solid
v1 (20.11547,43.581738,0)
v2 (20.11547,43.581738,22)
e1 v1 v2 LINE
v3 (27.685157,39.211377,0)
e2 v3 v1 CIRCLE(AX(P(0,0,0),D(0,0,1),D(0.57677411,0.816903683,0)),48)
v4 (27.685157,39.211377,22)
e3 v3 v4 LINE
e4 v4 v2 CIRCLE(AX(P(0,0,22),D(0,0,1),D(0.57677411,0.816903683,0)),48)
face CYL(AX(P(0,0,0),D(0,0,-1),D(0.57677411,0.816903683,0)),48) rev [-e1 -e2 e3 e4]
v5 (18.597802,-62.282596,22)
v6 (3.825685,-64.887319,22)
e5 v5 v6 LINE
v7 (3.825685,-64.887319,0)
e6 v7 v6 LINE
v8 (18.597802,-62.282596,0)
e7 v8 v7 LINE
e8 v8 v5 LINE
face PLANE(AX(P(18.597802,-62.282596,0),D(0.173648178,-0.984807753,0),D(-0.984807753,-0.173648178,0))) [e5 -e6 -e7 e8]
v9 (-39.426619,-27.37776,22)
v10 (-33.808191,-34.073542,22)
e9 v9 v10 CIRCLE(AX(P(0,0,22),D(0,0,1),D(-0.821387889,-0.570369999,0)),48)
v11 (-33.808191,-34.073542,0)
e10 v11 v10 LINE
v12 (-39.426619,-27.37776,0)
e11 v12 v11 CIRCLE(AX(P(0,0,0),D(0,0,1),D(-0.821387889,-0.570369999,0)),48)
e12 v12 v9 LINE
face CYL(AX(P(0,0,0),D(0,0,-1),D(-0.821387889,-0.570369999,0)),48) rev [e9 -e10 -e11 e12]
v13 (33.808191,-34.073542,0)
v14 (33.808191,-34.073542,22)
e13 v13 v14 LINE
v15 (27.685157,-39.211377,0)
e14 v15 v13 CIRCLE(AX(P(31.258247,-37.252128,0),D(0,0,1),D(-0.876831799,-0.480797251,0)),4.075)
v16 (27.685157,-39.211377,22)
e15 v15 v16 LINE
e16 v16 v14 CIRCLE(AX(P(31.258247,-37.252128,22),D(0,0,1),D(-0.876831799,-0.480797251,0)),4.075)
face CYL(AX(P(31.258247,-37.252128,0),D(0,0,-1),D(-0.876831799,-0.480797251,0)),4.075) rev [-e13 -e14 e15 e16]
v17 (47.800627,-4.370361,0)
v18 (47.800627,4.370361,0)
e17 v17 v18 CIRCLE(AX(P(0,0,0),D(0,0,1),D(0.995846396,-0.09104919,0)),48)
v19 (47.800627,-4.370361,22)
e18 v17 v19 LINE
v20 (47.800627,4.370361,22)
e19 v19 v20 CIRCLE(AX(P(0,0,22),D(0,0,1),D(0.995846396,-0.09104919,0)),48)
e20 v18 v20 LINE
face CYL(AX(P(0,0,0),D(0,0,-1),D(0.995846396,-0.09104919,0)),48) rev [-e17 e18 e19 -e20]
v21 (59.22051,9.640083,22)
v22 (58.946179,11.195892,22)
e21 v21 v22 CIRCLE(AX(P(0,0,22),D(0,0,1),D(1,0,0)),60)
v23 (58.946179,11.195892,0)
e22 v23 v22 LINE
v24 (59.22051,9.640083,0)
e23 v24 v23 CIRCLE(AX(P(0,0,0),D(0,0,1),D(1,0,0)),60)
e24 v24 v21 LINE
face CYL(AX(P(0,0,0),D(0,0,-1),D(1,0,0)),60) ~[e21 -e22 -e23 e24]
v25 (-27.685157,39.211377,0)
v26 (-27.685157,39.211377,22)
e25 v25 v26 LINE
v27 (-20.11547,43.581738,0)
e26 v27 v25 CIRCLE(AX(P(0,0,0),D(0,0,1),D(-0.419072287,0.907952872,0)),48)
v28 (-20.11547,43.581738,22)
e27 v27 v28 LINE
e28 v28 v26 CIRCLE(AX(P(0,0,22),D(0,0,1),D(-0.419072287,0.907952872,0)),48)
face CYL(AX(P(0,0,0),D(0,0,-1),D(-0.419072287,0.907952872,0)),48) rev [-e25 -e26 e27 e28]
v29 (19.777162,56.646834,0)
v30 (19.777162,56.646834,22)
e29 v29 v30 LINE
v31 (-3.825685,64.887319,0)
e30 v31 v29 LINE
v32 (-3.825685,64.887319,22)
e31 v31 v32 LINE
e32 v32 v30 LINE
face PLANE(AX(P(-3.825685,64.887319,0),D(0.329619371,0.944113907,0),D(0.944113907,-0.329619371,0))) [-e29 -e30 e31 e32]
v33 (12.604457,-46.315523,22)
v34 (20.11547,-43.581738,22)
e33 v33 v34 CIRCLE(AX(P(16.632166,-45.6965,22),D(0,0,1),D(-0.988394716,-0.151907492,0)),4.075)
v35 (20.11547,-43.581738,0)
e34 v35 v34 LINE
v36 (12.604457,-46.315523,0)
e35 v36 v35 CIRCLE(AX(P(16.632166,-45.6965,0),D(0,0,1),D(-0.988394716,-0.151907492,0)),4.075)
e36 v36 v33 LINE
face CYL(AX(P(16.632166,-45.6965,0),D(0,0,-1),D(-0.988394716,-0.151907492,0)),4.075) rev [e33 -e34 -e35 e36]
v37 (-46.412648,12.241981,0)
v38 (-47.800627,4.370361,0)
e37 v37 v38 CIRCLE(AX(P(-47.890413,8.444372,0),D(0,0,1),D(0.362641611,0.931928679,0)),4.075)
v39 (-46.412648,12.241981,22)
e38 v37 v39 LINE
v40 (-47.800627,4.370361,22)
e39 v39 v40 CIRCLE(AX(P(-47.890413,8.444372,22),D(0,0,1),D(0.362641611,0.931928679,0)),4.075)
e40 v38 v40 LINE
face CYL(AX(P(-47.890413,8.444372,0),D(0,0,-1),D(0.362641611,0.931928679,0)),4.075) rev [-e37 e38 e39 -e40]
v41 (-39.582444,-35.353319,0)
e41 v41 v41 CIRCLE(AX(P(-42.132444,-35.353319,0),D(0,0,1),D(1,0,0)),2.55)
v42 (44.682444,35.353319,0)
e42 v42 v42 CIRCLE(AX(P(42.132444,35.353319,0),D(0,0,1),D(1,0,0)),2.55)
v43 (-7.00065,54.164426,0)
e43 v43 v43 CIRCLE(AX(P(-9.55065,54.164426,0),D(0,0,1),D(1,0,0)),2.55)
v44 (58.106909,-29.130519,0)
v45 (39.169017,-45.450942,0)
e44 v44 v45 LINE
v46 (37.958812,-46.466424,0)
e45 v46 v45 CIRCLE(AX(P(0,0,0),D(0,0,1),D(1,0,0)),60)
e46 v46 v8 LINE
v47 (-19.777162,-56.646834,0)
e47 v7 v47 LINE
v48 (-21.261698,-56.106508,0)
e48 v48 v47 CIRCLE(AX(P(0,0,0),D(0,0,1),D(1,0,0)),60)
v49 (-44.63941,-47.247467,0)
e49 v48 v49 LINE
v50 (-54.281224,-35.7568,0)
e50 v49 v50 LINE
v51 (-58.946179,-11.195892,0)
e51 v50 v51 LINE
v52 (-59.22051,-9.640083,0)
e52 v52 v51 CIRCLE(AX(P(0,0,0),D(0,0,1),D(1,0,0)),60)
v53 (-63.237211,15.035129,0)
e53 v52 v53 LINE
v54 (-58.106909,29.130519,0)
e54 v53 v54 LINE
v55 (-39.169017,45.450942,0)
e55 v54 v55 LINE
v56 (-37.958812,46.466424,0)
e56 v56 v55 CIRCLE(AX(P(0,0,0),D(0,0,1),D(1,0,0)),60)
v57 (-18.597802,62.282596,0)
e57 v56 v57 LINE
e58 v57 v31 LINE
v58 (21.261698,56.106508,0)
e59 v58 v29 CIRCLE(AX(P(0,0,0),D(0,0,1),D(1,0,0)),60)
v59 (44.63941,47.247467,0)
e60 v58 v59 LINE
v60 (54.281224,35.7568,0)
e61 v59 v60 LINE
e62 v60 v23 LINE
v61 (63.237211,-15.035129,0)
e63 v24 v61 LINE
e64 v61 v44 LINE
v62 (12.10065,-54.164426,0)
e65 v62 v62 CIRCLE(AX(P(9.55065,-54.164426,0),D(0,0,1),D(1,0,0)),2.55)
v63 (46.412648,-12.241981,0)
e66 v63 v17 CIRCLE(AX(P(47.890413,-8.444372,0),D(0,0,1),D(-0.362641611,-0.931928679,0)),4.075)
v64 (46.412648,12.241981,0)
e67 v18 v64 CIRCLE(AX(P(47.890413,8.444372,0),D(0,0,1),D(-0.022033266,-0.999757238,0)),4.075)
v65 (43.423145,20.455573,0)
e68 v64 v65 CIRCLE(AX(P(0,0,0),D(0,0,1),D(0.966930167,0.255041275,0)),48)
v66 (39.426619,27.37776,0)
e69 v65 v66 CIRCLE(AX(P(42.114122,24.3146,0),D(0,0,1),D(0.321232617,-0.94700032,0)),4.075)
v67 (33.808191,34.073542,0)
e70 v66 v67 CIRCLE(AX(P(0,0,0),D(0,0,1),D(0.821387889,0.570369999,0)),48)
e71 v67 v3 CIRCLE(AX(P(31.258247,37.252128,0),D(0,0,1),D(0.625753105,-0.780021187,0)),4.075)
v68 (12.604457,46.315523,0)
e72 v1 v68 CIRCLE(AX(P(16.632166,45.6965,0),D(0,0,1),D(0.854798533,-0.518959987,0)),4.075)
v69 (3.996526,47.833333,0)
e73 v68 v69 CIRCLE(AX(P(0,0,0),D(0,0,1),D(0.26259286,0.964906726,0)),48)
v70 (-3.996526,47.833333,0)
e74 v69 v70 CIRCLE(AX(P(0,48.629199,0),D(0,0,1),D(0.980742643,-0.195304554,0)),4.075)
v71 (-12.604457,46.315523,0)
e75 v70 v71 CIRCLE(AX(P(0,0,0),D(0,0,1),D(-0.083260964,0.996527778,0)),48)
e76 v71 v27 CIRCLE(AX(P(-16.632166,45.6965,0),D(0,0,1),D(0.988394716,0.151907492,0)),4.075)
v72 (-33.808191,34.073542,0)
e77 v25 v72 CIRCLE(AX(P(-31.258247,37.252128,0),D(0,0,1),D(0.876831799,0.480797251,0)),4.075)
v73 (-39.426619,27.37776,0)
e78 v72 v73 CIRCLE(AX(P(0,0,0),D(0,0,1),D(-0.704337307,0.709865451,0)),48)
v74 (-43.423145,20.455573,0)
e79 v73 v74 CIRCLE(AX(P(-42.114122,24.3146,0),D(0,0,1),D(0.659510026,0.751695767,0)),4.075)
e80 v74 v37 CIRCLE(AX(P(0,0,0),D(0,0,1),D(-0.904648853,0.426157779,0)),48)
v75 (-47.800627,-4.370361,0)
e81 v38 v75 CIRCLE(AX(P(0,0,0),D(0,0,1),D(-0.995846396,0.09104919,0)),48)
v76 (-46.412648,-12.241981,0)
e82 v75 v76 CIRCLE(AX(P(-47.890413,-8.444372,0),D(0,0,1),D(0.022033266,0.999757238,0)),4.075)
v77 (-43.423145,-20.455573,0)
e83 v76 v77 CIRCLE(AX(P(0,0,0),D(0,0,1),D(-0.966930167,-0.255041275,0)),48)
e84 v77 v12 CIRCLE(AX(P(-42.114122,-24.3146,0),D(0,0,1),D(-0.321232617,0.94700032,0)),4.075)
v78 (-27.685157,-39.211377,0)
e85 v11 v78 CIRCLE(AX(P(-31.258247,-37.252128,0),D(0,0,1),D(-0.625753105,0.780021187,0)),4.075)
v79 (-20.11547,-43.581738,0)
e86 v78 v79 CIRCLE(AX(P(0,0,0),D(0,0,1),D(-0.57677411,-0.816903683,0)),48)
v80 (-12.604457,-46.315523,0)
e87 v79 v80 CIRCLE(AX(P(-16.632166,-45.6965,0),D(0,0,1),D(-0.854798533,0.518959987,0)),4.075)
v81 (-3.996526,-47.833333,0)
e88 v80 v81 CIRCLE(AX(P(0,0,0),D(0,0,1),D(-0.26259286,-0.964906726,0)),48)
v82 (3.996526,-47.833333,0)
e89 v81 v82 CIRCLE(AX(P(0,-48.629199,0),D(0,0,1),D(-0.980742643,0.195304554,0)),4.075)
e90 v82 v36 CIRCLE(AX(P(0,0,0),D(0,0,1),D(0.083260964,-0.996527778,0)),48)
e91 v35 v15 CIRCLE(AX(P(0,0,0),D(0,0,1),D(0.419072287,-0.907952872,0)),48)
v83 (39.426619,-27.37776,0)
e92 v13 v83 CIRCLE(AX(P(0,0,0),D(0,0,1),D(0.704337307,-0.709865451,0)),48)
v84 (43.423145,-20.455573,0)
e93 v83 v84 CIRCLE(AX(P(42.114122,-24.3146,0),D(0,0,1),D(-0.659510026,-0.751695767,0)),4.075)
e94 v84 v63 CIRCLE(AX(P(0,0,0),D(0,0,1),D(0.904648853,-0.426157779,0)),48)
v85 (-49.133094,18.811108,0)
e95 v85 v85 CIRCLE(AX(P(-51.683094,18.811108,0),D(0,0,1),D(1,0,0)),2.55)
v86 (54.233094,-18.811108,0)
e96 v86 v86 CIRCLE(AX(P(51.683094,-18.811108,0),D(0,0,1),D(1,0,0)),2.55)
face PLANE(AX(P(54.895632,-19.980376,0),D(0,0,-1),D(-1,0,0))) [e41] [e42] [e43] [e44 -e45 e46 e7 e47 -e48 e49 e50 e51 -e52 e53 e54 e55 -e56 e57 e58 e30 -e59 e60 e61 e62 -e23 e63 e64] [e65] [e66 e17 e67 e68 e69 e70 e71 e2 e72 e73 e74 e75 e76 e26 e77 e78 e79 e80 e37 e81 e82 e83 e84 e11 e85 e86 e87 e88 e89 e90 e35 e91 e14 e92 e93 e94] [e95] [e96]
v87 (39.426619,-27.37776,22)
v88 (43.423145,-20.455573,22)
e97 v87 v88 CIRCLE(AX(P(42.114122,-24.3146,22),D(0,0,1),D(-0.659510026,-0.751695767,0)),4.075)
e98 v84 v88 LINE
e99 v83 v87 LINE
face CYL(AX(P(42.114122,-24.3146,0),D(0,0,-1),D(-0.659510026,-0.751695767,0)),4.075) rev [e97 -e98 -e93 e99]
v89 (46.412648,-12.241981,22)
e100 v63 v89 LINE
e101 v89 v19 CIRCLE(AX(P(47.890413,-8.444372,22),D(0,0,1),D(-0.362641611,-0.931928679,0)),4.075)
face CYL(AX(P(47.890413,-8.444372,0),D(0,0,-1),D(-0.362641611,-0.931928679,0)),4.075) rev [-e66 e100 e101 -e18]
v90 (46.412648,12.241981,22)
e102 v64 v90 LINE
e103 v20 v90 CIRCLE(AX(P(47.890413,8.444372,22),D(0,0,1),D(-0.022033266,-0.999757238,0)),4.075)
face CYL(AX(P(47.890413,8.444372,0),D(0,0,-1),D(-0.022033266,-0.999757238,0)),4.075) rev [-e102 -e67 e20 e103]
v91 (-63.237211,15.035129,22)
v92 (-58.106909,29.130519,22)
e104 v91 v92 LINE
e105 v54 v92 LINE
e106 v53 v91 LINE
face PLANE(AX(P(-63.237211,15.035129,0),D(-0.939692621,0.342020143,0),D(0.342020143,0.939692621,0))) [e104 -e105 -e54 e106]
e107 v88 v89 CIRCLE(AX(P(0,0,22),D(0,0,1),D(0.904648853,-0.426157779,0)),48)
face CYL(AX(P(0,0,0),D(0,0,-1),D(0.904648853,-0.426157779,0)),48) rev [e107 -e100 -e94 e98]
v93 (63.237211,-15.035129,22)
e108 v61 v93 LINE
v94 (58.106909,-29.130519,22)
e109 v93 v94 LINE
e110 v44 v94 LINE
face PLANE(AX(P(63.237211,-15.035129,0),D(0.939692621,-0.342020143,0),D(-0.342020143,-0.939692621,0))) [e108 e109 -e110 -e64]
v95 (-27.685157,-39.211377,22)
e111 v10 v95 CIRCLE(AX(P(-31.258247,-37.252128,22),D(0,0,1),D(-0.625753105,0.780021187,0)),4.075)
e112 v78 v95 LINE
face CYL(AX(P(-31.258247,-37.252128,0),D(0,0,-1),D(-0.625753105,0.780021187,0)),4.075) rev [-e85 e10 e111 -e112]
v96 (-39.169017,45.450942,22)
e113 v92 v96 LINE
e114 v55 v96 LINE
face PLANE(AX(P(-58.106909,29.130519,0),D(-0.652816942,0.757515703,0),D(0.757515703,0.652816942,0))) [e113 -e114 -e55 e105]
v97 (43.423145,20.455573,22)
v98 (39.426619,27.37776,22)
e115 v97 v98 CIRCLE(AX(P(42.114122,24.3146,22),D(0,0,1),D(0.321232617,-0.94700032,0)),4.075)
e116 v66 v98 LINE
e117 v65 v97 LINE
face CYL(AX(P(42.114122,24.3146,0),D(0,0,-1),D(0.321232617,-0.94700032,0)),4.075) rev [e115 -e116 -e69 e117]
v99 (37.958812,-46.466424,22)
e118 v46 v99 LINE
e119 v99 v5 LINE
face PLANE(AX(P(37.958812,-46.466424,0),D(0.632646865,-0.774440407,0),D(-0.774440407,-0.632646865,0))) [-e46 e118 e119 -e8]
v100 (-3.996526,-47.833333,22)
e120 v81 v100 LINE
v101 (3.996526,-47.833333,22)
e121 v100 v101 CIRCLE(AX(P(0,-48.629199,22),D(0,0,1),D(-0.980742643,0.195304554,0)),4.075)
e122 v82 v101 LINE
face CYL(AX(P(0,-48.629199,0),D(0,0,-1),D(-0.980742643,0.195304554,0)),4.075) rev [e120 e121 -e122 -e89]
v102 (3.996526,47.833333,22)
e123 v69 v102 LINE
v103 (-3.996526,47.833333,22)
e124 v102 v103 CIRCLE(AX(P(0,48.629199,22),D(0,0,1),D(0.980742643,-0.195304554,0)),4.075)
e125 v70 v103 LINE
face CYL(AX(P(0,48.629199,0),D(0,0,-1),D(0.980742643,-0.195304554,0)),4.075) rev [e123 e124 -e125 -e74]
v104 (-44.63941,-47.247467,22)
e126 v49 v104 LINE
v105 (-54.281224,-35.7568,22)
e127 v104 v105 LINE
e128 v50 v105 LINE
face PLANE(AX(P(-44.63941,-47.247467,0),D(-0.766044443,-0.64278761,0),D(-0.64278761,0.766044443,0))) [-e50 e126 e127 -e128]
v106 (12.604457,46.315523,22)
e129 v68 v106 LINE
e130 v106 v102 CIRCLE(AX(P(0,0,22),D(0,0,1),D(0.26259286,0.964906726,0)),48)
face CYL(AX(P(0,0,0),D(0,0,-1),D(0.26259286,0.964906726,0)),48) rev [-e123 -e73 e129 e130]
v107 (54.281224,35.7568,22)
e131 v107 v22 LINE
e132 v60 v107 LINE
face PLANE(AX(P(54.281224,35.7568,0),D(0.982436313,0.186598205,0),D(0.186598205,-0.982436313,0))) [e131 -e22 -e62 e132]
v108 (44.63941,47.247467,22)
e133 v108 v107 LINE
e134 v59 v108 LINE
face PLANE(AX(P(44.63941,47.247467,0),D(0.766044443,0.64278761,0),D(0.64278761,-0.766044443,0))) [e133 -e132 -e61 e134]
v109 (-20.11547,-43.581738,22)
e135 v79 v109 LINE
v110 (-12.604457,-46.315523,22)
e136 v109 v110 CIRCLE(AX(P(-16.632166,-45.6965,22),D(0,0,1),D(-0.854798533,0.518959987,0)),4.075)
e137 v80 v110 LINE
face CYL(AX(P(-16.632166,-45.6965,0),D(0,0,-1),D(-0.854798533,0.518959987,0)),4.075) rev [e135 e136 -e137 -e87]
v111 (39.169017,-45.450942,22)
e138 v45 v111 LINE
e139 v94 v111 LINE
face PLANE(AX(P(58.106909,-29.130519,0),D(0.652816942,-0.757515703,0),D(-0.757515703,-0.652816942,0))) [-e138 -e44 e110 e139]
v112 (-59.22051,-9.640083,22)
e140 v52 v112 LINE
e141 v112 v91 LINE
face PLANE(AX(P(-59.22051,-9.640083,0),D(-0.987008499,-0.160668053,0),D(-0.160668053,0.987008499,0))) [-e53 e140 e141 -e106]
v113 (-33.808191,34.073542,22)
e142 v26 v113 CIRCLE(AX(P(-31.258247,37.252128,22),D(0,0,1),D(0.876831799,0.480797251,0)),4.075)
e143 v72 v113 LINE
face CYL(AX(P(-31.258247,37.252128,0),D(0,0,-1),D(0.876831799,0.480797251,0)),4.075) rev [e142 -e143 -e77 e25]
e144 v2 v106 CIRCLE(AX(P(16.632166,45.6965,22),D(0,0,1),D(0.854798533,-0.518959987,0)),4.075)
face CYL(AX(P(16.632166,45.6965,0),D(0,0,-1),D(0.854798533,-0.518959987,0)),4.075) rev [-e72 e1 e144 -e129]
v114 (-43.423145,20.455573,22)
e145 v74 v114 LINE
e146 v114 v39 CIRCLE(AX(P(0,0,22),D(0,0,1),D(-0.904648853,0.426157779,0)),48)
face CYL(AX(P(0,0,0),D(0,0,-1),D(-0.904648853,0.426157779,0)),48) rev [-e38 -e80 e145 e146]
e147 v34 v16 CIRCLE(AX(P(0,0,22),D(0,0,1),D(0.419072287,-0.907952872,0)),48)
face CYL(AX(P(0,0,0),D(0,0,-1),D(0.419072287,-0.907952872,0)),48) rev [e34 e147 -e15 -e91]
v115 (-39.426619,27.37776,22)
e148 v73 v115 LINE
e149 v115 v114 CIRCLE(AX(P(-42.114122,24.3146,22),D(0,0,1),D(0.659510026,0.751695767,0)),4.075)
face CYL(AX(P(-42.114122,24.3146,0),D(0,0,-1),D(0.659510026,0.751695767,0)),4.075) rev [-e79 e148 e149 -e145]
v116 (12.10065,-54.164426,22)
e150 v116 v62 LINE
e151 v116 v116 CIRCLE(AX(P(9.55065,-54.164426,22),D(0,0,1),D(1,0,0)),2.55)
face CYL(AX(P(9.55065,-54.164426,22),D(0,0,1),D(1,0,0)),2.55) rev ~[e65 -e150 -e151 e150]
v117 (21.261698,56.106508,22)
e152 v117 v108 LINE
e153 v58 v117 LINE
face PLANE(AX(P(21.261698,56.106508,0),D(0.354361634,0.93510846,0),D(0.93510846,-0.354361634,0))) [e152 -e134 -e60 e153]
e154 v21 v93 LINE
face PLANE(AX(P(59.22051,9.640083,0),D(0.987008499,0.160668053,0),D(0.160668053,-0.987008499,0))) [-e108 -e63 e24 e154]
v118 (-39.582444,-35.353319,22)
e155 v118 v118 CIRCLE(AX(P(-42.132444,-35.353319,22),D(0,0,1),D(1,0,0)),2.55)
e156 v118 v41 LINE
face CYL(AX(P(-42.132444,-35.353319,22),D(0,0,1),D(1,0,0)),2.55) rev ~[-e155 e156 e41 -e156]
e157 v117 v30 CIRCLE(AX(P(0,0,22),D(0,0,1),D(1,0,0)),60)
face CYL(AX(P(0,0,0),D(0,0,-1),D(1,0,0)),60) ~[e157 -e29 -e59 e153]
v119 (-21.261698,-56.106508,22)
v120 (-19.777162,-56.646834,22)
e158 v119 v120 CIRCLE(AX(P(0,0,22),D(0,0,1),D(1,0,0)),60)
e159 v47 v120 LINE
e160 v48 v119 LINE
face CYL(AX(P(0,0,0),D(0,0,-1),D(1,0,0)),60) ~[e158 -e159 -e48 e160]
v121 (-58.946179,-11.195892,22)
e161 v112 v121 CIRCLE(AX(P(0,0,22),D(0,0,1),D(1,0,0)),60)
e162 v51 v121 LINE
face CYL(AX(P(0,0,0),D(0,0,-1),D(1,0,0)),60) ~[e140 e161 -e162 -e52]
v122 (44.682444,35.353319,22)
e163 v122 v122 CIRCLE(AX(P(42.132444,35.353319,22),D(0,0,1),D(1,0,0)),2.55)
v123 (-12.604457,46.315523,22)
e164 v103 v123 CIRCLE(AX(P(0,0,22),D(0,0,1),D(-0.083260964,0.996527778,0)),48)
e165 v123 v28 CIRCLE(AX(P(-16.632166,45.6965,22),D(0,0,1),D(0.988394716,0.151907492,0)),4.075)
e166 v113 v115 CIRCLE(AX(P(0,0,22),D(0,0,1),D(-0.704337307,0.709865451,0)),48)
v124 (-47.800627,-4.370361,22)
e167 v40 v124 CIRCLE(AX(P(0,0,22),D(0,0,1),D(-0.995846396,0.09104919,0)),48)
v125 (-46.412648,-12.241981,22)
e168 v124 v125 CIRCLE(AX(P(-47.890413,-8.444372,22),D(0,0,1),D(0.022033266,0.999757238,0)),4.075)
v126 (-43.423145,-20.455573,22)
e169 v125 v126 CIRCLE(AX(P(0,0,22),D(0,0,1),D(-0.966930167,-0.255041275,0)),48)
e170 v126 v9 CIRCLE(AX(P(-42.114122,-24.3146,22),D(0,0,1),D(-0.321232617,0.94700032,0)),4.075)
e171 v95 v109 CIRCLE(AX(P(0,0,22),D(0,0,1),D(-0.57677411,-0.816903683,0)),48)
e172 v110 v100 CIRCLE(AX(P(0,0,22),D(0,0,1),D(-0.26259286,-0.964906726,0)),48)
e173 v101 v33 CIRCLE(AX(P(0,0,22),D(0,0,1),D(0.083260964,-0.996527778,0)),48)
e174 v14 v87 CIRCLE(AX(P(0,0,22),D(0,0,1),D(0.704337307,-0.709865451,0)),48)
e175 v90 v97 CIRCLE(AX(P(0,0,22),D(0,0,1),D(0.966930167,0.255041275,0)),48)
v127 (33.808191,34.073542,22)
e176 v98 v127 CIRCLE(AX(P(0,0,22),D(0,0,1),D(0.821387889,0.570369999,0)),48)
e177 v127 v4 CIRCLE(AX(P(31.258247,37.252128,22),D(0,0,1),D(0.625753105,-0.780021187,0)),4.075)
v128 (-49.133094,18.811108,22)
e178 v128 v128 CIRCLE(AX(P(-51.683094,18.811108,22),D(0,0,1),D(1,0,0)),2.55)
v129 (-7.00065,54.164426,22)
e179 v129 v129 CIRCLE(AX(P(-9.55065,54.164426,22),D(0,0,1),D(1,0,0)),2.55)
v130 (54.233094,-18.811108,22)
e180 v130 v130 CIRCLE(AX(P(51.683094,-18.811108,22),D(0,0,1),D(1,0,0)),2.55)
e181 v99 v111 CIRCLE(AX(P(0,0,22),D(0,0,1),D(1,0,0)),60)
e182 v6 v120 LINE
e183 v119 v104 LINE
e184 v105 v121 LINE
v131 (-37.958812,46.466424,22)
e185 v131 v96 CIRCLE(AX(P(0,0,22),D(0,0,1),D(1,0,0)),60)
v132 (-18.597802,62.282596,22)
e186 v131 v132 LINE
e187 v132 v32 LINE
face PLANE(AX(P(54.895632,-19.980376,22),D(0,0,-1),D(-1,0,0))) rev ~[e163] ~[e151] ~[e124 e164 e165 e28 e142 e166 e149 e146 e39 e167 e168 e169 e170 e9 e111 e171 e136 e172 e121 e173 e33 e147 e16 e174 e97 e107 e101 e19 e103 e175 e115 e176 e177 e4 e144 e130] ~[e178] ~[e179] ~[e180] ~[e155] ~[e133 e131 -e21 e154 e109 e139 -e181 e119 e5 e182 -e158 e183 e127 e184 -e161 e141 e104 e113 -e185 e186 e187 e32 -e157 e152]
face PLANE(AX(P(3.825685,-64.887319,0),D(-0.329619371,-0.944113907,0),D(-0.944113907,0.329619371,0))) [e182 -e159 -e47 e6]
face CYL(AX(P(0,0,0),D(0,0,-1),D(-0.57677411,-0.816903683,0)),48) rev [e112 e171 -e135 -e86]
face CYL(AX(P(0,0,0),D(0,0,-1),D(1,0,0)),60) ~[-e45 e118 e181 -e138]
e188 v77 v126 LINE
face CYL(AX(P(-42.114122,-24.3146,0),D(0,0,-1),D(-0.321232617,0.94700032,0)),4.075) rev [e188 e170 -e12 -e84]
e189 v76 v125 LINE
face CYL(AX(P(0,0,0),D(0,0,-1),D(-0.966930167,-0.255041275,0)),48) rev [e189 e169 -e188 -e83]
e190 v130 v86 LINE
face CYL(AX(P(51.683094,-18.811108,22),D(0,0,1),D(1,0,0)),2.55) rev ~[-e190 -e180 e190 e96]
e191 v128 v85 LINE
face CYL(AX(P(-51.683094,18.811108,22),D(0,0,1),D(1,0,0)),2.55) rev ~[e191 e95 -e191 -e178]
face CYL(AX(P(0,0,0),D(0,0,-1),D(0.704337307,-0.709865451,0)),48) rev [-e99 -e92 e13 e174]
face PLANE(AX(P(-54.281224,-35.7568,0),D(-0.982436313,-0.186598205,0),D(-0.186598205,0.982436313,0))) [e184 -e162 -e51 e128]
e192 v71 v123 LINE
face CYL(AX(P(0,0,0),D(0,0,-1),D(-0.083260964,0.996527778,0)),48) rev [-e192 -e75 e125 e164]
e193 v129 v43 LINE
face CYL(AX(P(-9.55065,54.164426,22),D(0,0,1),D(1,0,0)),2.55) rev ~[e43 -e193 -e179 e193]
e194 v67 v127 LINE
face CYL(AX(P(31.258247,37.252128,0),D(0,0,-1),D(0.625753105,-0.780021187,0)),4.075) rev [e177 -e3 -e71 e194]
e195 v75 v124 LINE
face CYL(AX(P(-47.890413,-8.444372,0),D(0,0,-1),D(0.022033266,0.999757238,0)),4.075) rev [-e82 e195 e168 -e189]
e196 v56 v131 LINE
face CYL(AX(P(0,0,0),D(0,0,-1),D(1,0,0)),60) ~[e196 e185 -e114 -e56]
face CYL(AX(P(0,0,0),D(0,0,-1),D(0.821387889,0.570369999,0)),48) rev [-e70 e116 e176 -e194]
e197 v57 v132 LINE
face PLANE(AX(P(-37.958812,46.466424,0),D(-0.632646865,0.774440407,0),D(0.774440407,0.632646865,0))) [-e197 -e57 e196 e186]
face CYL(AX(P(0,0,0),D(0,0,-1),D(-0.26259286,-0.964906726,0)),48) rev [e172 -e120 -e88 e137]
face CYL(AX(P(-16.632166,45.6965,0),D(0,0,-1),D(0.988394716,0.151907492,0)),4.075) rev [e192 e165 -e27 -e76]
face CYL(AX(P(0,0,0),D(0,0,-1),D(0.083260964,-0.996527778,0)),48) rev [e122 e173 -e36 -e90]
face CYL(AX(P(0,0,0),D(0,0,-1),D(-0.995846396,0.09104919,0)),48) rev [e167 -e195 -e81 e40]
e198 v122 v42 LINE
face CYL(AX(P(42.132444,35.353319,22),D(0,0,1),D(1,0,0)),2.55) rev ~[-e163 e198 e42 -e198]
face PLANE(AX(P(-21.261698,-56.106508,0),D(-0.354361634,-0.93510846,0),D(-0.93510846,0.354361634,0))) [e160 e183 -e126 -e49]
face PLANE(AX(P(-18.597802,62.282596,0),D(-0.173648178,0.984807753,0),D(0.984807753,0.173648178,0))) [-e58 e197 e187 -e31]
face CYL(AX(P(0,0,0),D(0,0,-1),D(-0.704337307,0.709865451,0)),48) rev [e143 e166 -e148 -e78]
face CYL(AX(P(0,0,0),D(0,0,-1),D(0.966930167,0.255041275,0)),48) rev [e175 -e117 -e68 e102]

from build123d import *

# Parameters (mm, degrees)
SKETCH1_R           = 60
BOSS_EXTRUDE1_DEPTH = 22
SKETCH2_R           = 2.55
CUT_EXTRUDE2_DEPTH  = 88.658428003
BOSS_EXTRUDE2_START = -22
BOSS_EXTRUDE2_DEPTH = 22


with BuildPart() as part:
    # Sketch1 → Boss-Extrude1 (new body)
    with BuildSketch(Plane.XY):
        Circle(SKETCH1_R)
        with BuildLine():
            ThreePointArc((3.996526269, 47.833333333), (0, 52.704199389), (-3.996526269, 47.833333333))
            ThreePointArc((-3.996526269, 47.833333333), (-8.335112528, 47.270772145), (-12.604457278, 46.315522848))
            ThreePointArc((-12.604457278, 46.315522848), (-18.025897829, 49.52574725), (-20.115469767, 43.581737873))
            ThreePointArc((-20.115469767, 43.581737873), (-24, 41.569219382), (-27.685157256, 39.211376764))
            ThreePointArc((-27.685157256, 39.211376764), (-33.877606345, 40.373759071), (-33.808190737, 34.073541628))
            ThreePointArc((-33.808190737, 34.073541628), (-36.77013327, 30.853805265), (-39.42661868, 27.377759943))
            ThreePointArc((-39.42661868, 27.377759943), (-45.643175557, 26.352099694), (-43.423144949, 20.45557339))
            ThreePointArc((-43.423144949, 20.45557339), (-45.105245798, 16.41696688), (-46.412648015, 12.24198122))
            ThreePointArc((-46.412648015, 12.24198122), (-51.903504174, 9.151988179), (-47.800627023, 4.37036111))
            ThreePointArc((-47.800627023, 4.37036111), (-48, 0), (-47.800627023, -4.37036111))
            ThreePointArc((-47.800627023, -4.37036111), (-51.903504174, -9.151988179), (-46.412648015, -12.24198122))
            ThreePointArc((-46.412648015, -12.24198122), (-45.105245798, -16.41696688), (-43.423144949, -20.45557339))
            ThreePointArc((-43.423144949, -20.45557339), (-45.643175557, -26.352099694), (-39.42661868, -27.377759943))
            ThreePointArc((-39.42661868, -27.377759943), (-36.77013327, -30.853805265), (-33.808190737, -34.073541628))
            ThreePointArc((-33.808190737, -34.073541628), (-33.877606345, -40.373759071), (-27.685157256, -39.211376764))
            ThreePointArc((-27.685157256, -39.211376764), (-24, -41.569219382), (-20.115469767, -43.581737873))
            ThreePointArc((-20.115469767, -43.581737873), (-18.025897829, -49.52574725), (-12.604457278, -46.315522848))
            ThreePointArc((-12.604457278, -46.315522848), (-8.335112528, -47.270772145), (-3.996526269, -47.833333333))
            ThreePointArc((-3.996526269, -47.833333333), (0, -52.704199389), (3.996526269, -47.833333333))
            ThreePointArc((3.996526269, -47.833333333), (8.335112528, -47.270772145), (12.604457278, -46.315522848))
            ThreePointArc((12.604457278, -46.315522848), (18.025897829, -49.52574725), (20.115469767, -43.581737873))
            ThreePointArc((20.115469767, -43.581737873), (24, -41.569219382), (27.685157256, -39.211376764))
            ThreePointArc((27.685157256, -39.211376764), (33.877606345, -40.373759071), (33.808190737, -34.073541628))
            ThreePointArc((33.808190737, -34.073541628), (36.77013327, -30.853805265), (39.42661868, -27.377759943))
            ThreePointArc((39.42661868, -27.377759943), (45.643175557, -26.352099694), (43.423144949, -20.45557339))
            ThreePointArc((43.423144949, -20.45557339), (45.105245798, -16.41696688), (46.412648015, -12.24198122))
            ThreePointArc((46.412648015, -12.24198122), (51.903504174, -9.151988179), (47.800627023, -4.37036111))
            ThreePointArc((47.800627023, -4.37036111), (48, 0), (47.800627023, 4.37036111))
            ThreePointArc((47.800627023, 4.37036111), (51.903504174, 9.151988179), (46.412648015, 12.24198122))
            ThreePointArc((46.412648015, 12.24198122), (45.105245798, 16.41696688), (43.423144949, 20.45557339))
            ThreePointArc((43.423144949, 20.45557339), (45.643175557, 26.352099694), (39.42661868, 27.377759943))
            ThreePointArc((39.42661868, 27.377759943), (36.77013327, 30.853805265), (33.808190737, 34.073541628))
            ThreePointArc((33.808190737, 34.073541628), (33.877606345, 40.373759071), (27.685157256, 39.211376764))
            ThreePointArc((27.685157256, 39.211376764), (24, 41.569219382), (20.115469767, 43.581737873))
            ThreePointArc((20.115469767, 43.581737873), (18.025897829, 49.52574725), (12.604457278, 46.315522848))
            ThreePointArc((12.604457278, 46.315522848), (8.335112528, 47.270772145), (3.996526269, 47.833333333))
        make_face(mode=Mode.SUBTRACT)
    extrude(amount=BOSS_EXTRUDE1_DEPTH)

    # Sketch2 → Cut-Extrude2 (cut, through all)
    with BuildSketch(Plane.XY.offset(22)):
        with Locations((-9.550649772, 54.164426416)):
            Circle(SKETCH2_R)
        with Locations((42.132444372, 35.353318533)):
            Circle(SKETCH2_R)
        with Locations((51.683094143, -18.811107883)):
            Circle(SKETCH2_R)
        with Locations((9.550649772, -54.164426416)):
            Circle(SKETCH2_R)
        with Locations((-42.132444372, -35.353318533)):
            Circle(SKETCH2_R)
        with Locations((-51.683094143, 18.811107883)):
            Circle(SKETCH2_R)
    extrude(amount=-CUT_EXTRUDE2_DEPTH, mode=Mode.SUBTRACT)

    # Sketch3 → Boss-Extrude2 (add)
    with BuildSketch(Plane.XY.offset(22).offset(BOSS_EXTRUDE2_START)):
        with BuildLine():
            Line((-37.958811886, 46.46642444), (-18.597801703, 62.282596059))
            Line((-18.597801703, 62.282596059), (-3.825685408, 64.887318724))
            Line((-3.825685408, 64.887318724), (19.777162276, 56.646834442))
            ThreePointArc((19.777162276, 56.646834442), (-10.41889066, 59.088465181), (-37.958811886, 46.46642444))
        make_face()
        with BuildLine():
            Line((54.281223694, 35.756800112), (58.946178809, 11.195892275))
            ThreePointArc((58.946178809, 11.195892275), (45.962666587, 38.567256581), (21.261698045, 56.106507611))
            Line((21.261698045, 56.106507611), (44.639409549, 47.247466759))
            Line((44.639409549, 47.247466759), (54.281223694, 35.756800112))
        make_face()
        with BuildLine():
            Line((58.106909102, -29.130518612), (39.169016532, -45.450942167))
            ThreePointArc((39.169016532, -45.450942167), (56.381557247, -20.5212086), (59.220509931, 9.640083171))
            Line((59.220509931, 9.640083171), (63.237211252, -15.0351293))
            Line((63.237211252, -15.0351293), (58.106909102, -29.130518612))
        make_face()
        with BuildLine():
            Line((3.825685408, -64.887318724), (-19.777162276, -56.646834442))
            ThreePointArc((-19.777162276, -56.646834442), (10.41889066, -59.088465181), (37.958811886, -46.46642444))
            Line((37.958811886, -46.46642444), (18.597801703, -62.282596059))
            Line((18.597801703, -62.282596059), (3.825685408, -64.887318724))
        make_face()
        with BuildLine():
            Line((-54.281223694, -35.756800112), (-58.946178809, -11.195892275))
            ThreePointArc((-58.946178809, -11.195892275), (-45.962666587, -38.567256581), (-21.261698045, -56.106507611))
            Line((-21.261698045, -56.106507611), (-44.639409549, -47.247466759))
            Line((-44.639409549, -47.247466759), (-54.281223694, -35.756800112))
        make_face()
        with BuildLine():
            Line((-58.106909102, 29.130518612), (-39.169016532, 45.450942167))
            ThreePointArc((-39.169016532, 45.450942167), (-56.381557247, 20.5212086), (-59.220509931, -9.640083171))
            Line((-59.220509931, -9.640083171), (-63.237211252, 15.0351293))
            Line((-63.237211252, 15.0351293), (-58.106909102, 29.130518612))
        make_face()
    extrude(amount=BOSS_EXTRUDE2_DEPTH)


solid = part.part
